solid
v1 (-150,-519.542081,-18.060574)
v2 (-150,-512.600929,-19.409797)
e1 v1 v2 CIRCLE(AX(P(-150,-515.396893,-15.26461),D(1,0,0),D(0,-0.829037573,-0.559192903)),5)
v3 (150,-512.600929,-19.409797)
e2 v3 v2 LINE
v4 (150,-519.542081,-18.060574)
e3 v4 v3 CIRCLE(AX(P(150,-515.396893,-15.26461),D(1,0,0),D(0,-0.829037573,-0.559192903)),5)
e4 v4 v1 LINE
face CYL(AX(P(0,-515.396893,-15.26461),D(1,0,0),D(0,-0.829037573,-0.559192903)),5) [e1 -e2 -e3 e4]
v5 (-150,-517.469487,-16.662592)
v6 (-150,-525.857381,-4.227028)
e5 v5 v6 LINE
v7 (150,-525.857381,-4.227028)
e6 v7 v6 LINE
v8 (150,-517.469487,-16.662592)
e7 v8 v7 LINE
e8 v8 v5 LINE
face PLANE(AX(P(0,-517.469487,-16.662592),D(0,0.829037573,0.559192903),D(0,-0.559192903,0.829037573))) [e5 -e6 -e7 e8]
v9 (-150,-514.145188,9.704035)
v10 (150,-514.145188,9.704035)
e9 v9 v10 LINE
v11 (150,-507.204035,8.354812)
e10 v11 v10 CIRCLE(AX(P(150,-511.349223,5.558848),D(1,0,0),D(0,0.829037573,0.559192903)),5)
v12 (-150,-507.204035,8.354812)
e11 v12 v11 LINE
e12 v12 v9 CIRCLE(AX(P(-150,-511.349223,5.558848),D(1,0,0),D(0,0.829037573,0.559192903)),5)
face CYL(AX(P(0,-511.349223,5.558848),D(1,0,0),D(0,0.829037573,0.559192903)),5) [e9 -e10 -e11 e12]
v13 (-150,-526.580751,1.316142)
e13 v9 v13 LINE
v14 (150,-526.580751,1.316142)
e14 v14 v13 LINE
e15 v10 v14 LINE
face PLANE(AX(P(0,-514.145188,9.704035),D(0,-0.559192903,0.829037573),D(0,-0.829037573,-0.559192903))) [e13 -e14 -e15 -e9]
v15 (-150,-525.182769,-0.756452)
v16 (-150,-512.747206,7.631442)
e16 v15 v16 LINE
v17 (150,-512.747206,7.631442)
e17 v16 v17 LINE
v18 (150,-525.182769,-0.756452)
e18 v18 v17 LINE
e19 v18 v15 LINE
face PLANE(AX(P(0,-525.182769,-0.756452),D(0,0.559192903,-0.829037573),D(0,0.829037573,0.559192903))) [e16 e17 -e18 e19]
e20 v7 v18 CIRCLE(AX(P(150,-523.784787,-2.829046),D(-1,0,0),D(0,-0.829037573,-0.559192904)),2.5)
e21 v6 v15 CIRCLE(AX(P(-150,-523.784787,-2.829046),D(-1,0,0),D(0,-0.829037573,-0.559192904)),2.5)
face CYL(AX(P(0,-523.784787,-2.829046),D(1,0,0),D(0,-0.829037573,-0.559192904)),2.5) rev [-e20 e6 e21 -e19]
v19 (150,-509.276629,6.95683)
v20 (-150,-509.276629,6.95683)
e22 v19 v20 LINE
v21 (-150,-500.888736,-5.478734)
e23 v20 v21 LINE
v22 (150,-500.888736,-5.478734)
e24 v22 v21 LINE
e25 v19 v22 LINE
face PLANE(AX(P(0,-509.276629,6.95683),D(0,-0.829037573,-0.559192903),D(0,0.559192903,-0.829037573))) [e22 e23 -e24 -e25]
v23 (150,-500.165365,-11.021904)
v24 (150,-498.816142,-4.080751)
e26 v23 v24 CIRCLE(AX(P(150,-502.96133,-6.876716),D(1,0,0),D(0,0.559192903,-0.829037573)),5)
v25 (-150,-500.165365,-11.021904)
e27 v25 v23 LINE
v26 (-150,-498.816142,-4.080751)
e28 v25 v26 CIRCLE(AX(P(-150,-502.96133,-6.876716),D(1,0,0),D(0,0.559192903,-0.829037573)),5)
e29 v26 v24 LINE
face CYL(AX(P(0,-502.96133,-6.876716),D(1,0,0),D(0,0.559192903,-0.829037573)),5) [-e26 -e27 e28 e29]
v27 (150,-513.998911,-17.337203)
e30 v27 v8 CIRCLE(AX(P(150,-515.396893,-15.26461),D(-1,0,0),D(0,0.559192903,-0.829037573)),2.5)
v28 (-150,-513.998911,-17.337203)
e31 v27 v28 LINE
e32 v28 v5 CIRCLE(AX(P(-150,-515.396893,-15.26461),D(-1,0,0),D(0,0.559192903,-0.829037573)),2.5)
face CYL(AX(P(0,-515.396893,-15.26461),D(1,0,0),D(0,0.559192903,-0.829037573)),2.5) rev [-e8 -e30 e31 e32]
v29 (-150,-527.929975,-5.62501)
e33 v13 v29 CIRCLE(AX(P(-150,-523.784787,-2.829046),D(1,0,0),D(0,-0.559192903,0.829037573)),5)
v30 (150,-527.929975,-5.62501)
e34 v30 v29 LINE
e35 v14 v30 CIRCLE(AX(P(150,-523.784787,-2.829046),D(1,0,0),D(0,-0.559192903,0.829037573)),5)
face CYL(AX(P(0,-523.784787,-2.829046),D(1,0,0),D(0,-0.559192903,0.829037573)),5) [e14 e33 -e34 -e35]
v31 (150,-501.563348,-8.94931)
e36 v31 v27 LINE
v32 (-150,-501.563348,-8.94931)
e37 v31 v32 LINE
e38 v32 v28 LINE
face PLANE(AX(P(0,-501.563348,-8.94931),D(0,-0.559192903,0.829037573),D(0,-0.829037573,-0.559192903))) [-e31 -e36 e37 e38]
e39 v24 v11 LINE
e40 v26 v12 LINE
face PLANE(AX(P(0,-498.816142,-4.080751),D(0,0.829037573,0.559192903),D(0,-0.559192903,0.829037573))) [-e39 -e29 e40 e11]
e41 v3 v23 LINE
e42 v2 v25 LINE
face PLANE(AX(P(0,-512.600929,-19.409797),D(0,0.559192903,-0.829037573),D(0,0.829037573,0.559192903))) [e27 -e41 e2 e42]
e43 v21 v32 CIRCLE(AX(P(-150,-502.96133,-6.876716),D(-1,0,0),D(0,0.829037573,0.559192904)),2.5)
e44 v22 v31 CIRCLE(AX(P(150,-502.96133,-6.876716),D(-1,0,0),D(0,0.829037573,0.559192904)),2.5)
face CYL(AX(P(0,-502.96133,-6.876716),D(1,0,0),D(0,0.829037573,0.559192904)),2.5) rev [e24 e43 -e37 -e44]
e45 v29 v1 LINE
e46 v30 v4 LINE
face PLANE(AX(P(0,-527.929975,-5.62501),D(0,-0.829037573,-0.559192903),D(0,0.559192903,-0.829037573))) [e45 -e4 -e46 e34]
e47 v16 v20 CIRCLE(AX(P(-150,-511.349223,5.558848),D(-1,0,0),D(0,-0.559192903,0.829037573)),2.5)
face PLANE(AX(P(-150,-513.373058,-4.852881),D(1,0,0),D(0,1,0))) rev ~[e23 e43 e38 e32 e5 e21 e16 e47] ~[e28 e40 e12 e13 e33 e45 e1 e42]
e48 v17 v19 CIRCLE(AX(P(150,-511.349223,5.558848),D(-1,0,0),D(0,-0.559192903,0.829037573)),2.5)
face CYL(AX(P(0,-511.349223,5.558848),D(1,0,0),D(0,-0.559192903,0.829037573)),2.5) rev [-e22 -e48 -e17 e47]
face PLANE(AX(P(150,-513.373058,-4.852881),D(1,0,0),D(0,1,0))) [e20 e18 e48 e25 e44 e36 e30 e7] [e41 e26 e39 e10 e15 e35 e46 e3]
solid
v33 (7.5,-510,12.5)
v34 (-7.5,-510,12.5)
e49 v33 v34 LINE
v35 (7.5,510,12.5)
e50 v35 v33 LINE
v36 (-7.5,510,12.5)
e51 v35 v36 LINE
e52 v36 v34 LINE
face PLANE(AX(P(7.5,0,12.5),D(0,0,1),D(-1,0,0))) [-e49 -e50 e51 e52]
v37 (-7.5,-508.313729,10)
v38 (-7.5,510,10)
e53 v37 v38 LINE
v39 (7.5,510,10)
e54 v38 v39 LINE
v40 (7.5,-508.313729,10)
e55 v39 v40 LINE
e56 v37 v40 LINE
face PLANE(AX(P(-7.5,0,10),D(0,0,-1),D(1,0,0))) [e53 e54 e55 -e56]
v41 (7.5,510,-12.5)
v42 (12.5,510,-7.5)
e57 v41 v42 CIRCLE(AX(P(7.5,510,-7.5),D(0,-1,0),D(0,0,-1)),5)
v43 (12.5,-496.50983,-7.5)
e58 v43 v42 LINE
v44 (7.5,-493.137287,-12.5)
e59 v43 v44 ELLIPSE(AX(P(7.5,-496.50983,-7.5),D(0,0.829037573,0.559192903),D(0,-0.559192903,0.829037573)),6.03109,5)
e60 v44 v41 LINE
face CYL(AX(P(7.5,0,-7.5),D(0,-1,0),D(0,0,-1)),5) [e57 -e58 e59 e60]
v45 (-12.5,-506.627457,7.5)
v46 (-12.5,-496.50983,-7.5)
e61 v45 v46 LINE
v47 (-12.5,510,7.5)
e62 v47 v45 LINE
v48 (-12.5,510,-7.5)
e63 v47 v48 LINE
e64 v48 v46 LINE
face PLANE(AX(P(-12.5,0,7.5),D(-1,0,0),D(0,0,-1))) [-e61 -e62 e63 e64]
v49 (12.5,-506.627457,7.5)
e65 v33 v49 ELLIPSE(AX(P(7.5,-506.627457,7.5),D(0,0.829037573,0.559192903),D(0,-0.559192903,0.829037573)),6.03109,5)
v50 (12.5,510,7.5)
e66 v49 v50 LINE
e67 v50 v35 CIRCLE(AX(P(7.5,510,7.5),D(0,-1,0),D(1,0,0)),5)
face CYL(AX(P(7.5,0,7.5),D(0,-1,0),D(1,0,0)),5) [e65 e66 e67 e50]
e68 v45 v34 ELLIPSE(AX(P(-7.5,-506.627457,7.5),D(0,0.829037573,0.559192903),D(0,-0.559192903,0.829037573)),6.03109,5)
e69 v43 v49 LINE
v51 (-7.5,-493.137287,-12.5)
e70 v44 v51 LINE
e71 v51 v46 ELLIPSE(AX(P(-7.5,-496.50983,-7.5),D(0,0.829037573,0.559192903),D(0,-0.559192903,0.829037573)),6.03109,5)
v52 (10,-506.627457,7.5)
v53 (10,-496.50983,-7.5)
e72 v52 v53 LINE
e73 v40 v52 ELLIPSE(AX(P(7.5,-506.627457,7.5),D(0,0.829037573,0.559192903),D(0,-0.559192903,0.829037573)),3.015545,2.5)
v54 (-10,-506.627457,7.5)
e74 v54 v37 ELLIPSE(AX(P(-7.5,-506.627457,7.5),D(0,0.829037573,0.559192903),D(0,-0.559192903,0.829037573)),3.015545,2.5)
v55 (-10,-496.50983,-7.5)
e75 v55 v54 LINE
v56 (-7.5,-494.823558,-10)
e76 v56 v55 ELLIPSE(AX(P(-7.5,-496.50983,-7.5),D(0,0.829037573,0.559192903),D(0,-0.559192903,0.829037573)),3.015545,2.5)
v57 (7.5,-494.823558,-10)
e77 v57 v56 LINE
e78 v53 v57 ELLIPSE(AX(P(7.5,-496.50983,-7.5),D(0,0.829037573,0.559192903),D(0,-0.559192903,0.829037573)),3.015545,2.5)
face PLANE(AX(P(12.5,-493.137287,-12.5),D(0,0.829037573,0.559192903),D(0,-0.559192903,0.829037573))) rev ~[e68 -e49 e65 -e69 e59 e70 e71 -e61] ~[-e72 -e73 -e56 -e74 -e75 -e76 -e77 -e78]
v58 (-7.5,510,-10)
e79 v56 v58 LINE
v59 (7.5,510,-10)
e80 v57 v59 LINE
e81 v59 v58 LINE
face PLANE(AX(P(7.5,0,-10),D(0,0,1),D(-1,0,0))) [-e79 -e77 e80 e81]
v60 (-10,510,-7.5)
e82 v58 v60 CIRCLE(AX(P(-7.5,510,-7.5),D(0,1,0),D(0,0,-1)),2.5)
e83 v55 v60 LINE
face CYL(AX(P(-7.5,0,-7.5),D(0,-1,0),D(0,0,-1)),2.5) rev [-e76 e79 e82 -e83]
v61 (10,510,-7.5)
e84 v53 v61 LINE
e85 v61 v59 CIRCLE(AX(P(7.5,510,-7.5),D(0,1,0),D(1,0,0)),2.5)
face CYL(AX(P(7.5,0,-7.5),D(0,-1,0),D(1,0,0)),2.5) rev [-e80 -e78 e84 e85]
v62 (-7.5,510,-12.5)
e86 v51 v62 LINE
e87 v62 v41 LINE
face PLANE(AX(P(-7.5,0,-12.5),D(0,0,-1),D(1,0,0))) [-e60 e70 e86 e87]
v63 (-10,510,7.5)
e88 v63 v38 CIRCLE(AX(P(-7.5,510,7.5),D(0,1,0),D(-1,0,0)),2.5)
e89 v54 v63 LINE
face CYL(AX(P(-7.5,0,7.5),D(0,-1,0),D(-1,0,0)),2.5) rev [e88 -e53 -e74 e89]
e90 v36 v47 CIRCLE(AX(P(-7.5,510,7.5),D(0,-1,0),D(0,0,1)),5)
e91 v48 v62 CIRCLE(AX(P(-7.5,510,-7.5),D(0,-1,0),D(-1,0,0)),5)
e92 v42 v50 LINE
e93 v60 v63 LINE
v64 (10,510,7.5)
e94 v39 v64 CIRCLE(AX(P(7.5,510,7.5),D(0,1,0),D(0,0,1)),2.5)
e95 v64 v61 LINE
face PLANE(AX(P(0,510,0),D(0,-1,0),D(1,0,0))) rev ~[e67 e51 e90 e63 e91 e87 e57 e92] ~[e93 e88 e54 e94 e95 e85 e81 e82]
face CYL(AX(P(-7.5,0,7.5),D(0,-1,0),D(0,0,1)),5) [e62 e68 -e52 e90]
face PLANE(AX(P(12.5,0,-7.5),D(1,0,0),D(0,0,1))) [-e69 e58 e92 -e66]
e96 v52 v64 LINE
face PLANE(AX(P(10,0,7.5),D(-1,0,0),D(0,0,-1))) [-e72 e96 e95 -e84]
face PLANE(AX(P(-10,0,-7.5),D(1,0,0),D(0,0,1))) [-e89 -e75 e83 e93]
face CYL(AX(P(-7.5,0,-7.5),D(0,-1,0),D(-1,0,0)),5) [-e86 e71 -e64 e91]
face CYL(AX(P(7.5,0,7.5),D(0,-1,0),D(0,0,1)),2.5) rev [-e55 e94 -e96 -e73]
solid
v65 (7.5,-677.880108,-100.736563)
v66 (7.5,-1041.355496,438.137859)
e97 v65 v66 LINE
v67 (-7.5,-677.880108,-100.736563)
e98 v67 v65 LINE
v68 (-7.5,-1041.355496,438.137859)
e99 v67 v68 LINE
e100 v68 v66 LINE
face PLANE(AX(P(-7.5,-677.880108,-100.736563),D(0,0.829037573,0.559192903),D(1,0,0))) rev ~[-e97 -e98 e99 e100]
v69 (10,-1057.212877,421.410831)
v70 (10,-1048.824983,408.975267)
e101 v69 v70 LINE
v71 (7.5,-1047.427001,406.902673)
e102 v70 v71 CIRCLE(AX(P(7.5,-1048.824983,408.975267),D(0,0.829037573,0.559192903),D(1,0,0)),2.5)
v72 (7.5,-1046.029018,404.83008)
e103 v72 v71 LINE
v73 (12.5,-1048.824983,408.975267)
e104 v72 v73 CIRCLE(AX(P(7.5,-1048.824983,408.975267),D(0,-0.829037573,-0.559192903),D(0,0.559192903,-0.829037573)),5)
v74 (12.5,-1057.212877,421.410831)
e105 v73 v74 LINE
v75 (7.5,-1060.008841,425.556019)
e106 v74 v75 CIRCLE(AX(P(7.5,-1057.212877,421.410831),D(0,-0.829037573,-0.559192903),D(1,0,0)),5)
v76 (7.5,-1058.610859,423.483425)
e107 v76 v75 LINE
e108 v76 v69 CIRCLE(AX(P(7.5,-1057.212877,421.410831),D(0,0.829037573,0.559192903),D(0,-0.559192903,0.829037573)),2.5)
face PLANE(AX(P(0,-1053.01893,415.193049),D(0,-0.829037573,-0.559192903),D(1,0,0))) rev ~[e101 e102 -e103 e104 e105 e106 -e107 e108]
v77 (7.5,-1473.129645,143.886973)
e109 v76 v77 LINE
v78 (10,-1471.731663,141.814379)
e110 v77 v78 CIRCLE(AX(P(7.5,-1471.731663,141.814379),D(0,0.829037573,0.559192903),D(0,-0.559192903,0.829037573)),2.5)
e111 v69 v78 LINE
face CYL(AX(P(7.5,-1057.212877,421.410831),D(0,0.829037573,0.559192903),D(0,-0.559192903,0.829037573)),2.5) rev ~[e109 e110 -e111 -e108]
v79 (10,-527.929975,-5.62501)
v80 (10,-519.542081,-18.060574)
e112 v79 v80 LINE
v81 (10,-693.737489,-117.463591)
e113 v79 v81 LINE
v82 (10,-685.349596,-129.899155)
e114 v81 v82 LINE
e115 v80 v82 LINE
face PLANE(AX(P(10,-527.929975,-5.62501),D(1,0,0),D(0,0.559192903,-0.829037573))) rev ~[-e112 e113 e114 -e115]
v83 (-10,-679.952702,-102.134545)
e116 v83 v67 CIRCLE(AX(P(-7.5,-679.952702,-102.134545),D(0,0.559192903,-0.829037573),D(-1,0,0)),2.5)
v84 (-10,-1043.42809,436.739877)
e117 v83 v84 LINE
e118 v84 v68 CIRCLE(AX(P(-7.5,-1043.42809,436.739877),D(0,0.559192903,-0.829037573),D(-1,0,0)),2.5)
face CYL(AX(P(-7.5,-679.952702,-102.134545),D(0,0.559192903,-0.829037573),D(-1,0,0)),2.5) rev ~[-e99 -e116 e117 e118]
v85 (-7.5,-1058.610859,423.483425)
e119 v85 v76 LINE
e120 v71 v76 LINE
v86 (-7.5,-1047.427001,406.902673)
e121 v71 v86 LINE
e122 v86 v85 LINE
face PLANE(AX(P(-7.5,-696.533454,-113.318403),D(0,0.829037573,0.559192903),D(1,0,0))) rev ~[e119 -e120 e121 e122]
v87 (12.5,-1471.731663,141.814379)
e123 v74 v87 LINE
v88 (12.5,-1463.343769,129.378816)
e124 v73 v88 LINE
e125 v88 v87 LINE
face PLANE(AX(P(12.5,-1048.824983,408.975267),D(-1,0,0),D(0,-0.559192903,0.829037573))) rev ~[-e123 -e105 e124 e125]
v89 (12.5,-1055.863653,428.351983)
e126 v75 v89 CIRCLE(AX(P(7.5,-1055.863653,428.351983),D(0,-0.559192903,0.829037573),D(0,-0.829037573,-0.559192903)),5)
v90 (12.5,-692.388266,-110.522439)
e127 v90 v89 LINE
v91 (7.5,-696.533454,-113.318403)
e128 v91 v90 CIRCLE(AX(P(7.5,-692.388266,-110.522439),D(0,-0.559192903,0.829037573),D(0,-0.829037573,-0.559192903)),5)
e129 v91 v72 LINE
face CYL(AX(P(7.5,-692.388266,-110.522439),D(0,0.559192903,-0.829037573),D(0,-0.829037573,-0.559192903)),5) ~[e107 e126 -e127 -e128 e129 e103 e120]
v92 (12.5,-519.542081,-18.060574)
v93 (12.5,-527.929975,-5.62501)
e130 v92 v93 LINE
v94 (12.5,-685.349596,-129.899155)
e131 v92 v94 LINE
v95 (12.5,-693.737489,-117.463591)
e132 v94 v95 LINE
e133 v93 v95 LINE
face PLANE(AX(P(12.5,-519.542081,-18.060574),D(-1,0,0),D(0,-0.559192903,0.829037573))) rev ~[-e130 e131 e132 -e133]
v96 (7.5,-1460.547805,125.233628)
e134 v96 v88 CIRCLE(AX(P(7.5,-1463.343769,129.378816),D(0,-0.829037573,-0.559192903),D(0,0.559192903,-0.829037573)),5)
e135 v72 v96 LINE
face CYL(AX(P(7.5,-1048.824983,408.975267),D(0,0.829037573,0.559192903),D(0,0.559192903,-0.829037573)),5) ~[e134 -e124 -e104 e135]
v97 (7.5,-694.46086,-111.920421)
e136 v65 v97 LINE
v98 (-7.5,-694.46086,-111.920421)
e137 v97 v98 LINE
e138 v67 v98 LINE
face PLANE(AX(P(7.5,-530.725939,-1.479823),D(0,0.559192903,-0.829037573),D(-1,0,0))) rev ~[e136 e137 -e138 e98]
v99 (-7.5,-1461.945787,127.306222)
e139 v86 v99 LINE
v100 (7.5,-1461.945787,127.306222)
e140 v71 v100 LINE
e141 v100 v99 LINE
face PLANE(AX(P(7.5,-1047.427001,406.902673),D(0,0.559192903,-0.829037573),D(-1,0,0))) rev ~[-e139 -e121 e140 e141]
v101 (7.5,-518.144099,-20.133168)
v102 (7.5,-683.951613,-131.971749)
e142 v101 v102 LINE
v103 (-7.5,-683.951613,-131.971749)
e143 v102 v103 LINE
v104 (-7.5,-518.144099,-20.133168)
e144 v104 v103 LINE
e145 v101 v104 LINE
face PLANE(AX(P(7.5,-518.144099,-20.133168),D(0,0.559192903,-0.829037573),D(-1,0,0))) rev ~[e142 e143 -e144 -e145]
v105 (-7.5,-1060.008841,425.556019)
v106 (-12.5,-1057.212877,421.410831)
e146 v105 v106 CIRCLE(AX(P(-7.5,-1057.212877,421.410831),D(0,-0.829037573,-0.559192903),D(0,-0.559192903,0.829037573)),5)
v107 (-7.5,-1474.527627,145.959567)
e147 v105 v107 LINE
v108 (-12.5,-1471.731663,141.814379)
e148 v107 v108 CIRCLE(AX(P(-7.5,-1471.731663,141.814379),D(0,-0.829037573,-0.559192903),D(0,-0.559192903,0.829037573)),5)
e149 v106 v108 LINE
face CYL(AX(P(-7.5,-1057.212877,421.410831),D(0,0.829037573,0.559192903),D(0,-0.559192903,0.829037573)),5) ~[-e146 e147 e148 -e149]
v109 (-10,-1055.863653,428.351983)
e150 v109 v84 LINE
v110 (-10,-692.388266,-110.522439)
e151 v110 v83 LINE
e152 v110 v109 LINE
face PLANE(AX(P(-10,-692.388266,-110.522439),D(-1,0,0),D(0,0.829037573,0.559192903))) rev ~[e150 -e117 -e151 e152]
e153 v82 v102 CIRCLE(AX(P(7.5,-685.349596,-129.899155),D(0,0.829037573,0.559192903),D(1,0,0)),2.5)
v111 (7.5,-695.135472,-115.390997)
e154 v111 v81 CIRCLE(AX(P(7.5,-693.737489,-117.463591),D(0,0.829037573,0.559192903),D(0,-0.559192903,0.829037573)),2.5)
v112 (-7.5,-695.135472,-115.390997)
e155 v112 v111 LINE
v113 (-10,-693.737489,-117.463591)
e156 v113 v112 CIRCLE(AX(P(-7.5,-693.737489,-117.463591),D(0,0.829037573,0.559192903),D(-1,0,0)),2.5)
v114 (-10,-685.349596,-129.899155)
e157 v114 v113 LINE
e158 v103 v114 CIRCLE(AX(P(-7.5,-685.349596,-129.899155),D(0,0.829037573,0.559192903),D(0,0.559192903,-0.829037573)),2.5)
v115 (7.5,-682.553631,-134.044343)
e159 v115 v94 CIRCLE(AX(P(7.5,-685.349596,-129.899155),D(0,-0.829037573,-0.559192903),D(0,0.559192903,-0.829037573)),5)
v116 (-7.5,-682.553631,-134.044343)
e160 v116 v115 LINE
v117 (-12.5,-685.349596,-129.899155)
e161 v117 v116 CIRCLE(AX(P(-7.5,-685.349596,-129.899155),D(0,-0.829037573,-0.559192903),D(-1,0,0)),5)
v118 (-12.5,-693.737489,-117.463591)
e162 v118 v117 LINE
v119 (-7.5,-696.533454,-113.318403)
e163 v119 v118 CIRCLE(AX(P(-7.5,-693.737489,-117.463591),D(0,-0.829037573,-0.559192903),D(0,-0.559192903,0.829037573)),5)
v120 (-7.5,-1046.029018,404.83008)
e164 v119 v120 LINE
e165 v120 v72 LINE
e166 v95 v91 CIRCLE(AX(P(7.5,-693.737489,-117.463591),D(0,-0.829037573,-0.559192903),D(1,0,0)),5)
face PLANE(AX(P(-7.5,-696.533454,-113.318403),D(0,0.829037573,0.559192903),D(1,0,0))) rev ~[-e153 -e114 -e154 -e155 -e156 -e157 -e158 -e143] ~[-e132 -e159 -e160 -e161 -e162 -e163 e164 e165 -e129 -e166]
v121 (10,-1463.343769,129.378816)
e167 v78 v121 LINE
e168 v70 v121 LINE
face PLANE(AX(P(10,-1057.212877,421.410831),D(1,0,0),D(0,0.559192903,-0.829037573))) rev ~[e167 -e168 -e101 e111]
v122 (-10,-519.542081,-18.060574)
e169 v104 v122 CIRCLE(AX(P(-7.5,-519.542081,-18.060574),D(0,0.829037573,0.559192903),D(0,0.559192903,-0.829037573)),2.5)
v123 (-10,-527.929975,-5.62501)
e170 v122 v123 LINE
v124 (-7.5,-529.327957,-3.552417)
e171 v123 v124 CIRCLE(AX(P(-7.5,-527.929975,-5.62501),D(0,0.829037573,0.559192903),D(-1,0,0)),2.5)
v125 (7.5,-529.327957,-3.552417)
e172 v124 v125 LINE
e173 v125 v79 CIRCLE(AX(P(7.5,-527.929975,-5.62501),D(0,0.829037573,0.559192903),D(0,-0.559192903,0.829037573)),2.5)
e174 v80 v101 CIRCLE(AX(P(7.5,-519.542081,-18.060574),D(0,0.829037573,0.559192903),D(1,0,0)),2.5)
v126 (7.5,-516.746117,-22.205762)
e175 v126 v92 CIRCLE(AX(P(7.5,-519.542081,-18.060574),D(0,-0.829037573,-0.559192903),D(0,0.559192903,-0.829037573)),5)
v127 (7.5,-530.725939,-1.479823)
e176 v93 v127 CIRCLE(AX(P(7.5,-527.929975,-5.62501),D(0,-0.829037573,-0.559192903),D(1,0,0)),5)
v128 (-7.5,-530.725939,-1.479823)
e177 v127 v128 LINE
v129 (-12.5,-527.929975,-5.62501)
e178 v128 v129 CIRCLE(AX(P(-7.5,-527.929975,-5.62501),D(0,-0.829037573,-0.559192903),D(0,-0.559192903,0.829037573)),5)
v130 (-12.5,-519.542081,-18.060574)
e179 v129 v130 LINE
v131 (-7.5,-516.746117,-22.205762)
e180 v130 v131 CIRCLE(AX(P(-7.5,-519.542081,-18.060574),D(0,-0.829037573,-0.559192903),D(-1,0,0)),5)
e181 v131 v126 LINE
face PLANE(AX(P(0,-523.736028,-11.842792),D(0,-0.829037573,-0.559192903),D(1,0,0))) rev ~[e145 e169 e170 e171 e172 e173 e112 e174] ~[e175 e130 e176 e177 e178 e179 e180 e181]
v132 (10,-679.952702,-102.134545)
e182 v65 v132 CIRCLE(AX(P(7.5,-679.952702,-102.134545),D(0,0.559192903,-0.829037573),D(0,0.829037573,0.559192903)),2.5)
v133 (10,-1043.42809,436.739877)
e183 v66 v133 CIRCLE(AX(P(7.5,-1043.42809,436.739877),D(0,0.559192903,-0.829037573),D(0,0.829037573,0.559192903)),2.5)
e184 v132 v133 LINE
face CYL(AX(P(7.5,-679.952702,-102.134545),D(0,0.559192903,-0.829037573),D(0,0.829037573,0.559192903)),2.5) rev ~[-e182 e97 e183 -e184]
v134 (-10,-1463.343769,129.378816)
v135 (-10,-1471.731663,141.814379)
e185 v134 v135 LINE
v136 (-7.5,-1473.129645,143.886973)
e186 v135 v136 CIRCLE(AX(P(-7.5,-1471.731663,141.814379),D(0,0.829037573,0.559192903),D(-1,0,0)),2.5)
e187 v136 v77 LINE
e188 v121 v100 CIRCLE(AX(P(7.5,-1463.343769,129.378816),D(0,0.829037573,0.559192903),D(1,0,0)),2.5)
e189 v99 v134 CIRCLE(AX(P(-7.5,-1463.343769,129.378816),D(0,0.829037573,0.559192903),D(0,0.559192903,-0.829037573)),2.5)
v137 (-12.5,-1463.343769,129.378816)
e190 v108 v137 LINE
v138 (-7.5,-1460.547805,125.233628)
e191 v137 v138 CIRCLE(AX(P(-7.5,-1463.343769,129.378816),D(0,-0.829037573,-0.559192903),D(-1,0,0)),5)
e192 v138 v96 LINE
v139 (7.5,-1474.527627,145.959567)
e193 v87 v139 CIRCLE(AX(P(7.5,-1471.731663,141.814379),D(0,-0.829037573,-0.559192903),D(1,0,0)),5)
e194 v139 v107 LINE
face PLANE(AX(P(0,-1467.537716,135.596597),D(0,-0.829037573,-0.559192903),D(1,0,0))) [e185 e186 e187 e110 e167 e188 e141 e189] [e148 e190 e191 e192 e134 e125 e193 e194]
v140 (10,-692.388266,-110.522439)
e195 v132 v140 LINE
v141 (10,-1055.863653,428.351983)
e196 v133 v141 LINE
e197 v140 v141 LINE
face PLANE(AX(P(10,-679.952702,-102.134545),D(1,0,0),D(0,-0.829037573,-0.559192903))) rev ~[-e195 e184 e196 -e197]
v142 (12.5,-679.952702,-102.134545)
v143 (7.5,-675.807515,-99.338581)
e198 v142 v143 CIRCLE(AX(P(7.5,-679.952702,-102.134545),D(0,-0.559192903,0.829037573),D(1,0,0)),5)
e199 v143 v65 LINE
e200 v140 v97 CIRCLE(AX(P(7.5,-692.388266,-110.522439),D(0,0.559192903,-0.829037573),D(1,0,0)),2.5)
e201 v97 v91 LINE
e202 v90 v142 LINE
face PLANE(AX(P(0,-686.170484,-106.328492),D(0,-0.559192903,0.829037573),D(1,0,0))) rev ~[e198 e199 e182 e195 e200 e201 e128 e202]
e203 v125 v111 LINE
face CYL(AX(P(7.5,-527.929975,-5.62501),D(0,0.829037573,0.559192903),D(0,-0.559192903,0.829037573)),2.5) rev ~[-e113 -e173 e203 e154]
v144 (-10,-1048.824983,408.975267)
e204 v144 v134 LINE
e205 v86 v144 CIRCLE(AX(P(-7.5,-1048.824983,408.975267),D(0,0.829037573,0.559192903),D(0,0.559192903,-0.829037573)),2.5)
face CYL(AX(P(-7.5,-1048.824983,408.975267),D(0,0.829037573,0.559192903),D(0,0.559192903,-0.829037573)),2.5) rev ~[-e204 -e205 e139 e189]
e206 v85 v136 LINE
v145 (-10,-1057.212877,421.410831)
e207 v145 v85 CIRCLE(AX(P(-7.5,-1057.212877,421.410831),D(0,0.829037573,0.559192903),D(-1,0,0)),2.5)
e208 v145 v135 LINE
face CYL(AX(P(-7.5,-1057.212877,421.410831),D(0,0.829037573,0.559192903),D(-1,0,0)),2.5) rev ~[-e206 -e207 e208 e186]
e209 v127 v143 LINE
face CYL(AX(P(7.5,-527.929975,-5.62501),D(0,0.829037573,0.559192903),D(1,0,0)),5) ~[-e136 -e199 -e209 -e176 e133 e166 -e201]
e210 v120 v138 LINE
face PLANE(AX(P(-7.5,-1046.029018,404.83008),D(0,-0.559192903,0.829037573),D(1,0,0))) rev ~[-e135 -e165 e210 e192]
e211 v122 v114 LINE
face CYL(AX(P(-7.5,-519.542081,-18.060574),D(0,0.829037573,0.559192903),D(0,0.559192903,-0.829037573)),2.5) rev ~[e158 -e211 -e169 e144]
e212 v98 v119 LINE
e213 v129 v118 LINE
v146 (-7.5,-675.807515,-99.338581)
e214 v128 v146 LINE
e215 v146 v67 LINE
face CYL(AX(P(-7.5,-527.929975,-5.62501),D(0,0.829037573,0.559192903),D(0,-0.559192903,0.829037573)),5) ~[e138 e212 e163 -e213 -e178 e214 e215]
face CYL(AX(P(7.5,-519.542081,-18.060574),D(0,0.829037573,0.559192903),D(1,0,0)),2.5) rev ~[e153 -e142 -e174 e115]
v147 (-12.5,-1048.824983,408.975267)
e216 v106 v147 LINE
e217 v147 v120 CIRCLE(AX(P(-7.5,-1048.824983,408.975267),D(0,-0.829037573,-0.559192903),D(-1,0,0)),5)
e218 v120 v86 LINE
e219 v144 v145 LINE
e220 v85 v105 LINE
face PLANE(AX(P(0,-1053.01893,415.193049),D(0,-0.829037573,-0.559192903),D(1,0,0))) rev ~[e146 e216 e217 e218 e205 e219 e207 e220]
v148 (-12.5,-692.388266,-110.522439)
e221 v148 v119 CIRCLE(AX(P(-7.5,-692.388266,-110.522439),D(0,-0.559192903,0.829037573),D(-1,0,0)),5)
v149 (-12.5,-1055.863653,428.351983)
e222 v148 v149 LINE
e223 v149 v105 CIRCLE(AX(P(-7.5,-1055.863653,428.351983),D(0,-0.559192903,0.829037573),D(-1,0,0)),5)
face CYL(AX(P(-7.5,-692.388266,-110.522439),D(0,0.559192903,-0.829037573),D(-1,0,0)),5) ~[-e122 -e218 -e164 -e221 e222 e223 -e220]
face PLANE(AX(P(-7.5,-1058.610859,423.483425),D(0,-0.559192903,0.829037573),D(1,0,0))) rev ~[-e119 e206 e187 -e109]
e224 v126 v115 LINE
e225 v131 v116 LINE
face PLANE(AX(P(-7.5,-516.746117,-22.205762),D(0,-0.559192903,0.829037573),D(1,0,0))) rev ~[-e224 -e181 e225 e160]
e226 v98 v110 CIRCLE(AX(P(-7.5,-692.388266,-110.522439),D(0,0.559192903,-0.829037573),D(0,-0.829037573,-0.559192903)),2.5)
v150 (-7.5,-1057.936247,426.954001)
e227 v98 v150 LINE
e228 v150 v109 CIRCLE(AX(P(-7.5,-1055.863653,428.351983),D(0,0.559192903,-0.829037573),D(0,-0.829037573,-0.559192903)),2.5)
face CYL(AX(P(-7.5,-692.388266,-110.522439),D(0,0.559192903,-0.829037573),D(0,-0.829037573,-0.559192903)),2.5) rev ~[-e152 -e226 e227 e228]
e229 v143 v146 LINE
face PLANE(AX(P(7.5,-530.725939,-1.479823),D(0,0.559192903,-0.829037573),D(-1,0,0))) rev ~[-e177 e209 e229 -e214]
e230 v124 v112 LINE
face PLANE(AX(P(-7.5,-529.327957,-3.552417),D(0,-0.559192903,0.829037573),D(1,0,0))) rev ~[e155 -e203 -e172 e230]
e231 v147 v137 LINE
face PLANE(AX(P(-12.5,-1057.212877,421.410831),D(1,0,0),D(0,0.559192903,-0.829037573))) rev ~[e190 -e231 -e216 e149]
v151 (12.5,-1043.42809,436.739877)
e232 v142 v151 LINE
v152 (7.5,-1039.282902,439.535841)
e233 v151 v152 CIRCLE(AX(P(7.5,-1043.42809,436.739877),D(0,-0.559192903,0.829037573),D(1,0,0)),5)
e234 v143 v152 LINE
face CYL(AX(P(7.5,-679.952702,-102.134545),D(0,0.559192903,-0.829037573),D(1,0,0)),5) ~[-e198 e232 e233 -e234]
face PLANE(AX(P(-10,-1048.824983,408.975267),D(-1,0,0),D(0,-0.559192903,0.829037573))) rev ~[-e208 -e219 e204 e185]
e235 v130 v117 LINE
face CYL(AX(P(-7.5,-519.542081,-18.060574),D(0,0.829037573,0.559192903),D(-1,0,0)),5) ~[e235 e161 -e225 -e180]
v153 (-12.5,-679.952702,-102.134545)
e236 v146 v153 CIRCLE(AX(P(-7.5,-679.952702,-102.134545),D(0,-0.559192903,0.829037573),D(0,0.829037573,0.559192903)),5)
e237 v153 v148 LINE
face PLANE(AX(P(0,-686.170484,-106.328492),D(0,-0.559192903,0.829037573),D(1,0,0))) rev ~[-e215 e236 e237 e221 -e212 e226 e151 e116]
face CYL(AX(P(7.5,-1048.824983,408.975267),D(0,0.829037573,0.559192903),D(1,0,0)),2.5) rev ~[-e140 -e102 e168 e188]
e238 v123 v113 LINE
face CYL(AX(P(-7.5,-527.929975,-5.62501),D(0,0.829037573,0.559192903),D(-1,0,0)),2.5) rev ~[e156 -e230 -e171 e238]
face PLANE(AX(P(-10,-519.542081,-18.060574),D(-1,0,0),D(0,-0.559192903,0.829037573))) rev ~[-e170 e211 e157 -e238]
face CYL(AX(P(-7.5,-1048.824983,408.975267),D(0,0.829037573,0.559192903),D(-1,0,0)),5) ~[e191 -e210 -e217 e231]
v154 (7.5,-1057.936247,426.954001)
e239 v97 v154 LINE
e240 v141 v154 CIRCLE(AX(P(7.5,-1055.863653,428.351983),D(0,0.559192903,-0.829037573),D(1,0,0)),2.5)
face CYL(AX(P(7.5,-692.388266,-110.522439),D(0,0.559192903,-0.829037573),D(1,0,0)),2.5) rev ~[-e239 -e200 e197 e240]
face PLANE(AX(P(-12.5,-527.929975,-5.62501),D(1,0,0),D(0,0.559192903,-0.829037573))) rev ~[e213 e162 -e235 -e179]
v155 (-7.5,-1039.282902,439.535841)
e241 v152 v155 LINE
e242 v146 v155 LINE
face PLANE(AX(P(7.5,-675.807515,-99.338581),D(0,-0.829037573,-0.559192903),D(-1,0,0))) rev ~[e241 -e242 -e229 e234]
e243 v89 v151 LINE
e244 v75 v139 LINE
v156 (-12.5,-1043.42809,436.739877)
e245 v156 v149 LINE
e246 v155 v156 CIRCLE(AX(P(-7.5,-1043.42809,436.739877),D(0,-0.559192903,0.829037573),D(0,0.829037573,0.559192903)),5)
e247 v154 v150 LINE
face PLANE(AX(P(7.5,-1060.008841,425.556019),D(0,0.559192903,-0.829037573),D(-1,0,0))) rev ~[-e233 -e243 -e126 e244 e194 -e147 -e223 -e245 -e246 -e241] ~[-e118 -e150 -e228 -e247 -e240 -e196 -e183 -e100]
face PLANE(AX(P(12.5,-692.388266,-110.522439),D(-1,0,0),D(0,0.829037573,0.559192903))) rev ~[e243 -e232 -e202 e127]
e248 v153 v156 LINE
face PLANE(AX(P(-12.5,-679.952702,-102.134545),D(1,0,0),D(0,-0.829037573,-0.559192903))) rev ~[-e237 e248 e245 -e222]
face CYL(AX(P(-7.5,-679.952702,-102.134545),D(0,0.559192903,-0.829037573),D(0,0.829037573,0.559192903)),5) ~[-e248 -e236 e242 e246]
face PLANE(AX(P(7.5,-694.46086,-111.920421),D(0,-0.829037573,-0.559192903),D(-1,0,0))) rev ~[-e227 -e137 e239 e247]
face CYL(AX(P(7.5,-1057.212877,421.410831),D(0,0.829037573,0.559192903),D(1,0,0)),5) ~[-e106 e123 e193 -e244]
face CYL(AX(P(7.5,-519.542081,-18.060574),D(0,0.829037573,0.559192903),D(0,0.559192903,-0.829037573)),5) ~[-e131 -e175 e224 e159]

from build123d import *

# Parameters (mm, degrees)
F1_DEPTH  = 510
F3_DEPTH  = 25.001
F5_DEPTH  = 150
F7_DEPTH  = 200
F9_DEPTH  = 650
F11_DEPTH = 500


with BuildPart() as f1:
    # F0 (on Front) → F1 (new body, symmetric)
    with BuildSketch(Plane.XZ):
        with BuildLine():
            ThreePointArc((12.5, 7.5), (11.0355339059, 11.0355339059), (7.5, 12.5))
            Line((7.5, 12.5), (-7.5, 12.5))
            ThreePointArc((-7.5, 12.5), (-11.0355339059, 11.0355339059), (-12.5, 7.5))
            Line((-12.5, 7.5), (-12.5, -7.5))
            ThreePointArc((-12.5, -7.5), (-11.0355339059, -11.0355339059), (-7.5, -12.5))
            Line((-7.5, -12.5), (7.5, -12.5))
            ThreePointArc((7.5, -12.5), (11.0355339059, -11.0355339059), (12.5, -7.5))
            Line((12.5, -7.5), (12.5, 7.5))
        make_face()
        with BuildLine():
            ThreePointArc((7.5, 10), (9.267766953, 9.267766953), (10, 7.5))
            Line((10, 7.5), (10, -7.5))
            ThreePointArc((10, -7.5), (9.267766953, -9.267766953), (7.5, -10))
            Line((7.5, -10), (-7.5, -10))
            ThreePointArc((-7.5, -10), (-9.267766953, -9.267766953), (-10, -7.5))
            Line((-10, -7.5), (-10, 7.5))
            ThreePointArc((-10, 7.5), (-9.267766953, 9.267766953), (-7.5, 10))
            Line((-7.5, 10), (7.5, 10))
        make_face(mode=Mode.SUBTRACT)
    extrude(amount=F1_DEPTH, both=True)

    # F2 (on face) → F3 (cut, through all)
    with BuildSketch(Plane.YZ.offset(12.5)):
        Polygon((-493.1372870789, -12.5), (-510, 12.5), (-510, -12.5), align=None)
    extrude(amount=-F3_DEPTH, mode=Mode.SUBTRACT)


with BuildPart() as f5:
    # F4 (on Right) → F5 (new body, symmetric)
    with BuildSketch(Plane.YZ):
        with BuildLine():
            Line((-512.6009288643, -19.4097973833), (-500.165365276, -11.0219038312))
            ThreePointArc((-500.165365276, -11.0219038312), (-498.0531938761, -7.8307609453), (-498.8161419306, -4.0807514511))
            Line((-498.8161419306, -4.0807514511), (-507.2040354826, 8.3548121372))
            ThreePointArc((-507.2040354826, 8.3548121372), (-510.3951783685, 10.4669835371), (-514.1451878628, 9.7040354826))
            Line((-514.1451878628, 9.7040354826), (-526.5807514511, 1.3161419306))
            ThreePointArc((-526.5807514511, 1.3161419306), (-528.692922851, -1.8750009553), (-527.9299747965, -5.6250104495))
            Line((-527.9299747965, -5.6250104495), (-519.5420812445, -18.0605740379))
            ThreePointArc((-519.5420812445, -18.0605740379), (-516.3509383586, -20.1727454378), (-512.6009288643, -19.4097973833))
        make_face()
        with BuildLine():
            ThreePointArc((-512.7472056041, 7.6314415513), (-510.872200857, 8.0129155785), (-509.276629414, 6.9568298785))
            Line((-509.276629414, 6.9568298785), (-500.888735862, -5.4787337098))
            ThreePointArc((-500.888735862, -5.4787337098), (-500.5072618347, -7.3537384569), (-501.5633475347, -8.9493098998))
            Line((-501.5633475347, -8.9493098998), (-513.998911123, -17.3372034519))
            ThreePointArc((-513.998911123, -17.3372034519), (-515.8739158701, -17.7186774791), (-517.4694873131, -16.6625917792))
            Line((-517.4694873131, -16.6625917792), (-525.8573808651, -4.2270281909))
            ThreePointArc((-525.8573808651, -4.2270281909), (-526.2388548924, -2.3520234437), (-525.1827691924, -0.7564520008))
            Line((-525.1827691924, -0.7564520008), (-512.7472056041, 7.6314415513))
        make_face(mode=Mode.SUBTRACT)
    extrude(amount=F5_DEPTH, both=True)


with BuildPart() as f7:
    # F6 (on face) → F7 (new body)
    with BuildSketch(Plane(origin=(0, -365.4557215439, -246.5029967101), x_dir=(1, 0, 0), z_dir=(0, -0.8290375726, -0.5591929035))):
        with BuildLine():
            ThreePointArc((12.5, 290.551350427), (11.0355339059, 294.086884333), (7.5, 295.551350427))
            Line((7.5, 295.551350427), (-7.5, 295.551350427))
            ThreePointArc((-7.5, 295.551350427), (-11.0355339059, 294.086884333), (-12.5, 290.551350427))
            Line((-12.5, 290.551350427), (-12.5, 275.551350427))
            ThreePointArc((-12.5, 275.551350427), (-11.0355339059, 272.0158165211), (-7.5, 270.551350427))
            Line((-7.5, 270.551350427), (7.5, 270.551350427))
            ThreePointArc((7.5, 270.551350427), (11.0355339059, 272.0158165211), (12.5, 275.551350427))
            Line((12.5, 275.551350427), (12.5, 290.551350427))
        make_face()
        with BuildLine():
            Line((-7.5, 293.051350427), (7.5, 293.051350427))
            ThreePointArc((7.5, 293.051350427), (9.267766953, 292.31911738), (10, 290.551350427))
            Line((10, 290.551350427), (10, 275.551350427))
            ThreePointArc((10, 275.551350427), (9.267766953, 273.7835834741), (7.5, 273.051350427))
            Line((7.5, 273.051350427), (-7.5, 273.051350427))
            ThreePointArc((-7.5, 273.051350427), (-9.267766953, 273.7835834741), (-10, 275.551350427))
            Line((-10, 275.551350427), (-10, 290.551350427))
            ThreePointArc((-10, 290.551350427), (-9.267766953, 292.31911738), (-7.5, 293.051350427))
        make_face(mode=Mode.SUBTRACT)
    extrude(amount=F7_DEPTH)

    # F8 (on face) → F9 (join)
    with BuildSketch(Plane(origin=(0, -165.27021777, 245.0231741234), x_dir=(1, 0, 0), z_dir=(0, -0.5591929035, 0.8290375726))):
        with BuildLine():
            Line((-7.5, -640.8192507097), (7.5, -640.8192507097))
            ThreePointArc((7.5, -640.8192507097), (11.0355339059, -639.3547846156), (12.5, -635.8192507097))
            Line((12.5, -635.8192507097), (12.5, -620.8192507097))
            ThreePointArc((12.5, -620.8192507097), (11.0355339059, -617.2837168038), (7.5, -615.8192507097))
            Line((7.5, -615.8192507097), (-7.5, -615.8192507097))
            ThreePointArc((-7.5, -615.8192507097), (-11.0355339059, -617.2837168038), (-12.5, -620.8192507097))
            Line((-12.5, -620.8192507097), (-12.5, -635.8192507097))
            ThreePointArc((-12.5, -635.8192507097), (-11.0355339059, -639.3547846156), (-7.5, -640.8192507097))
        make_face()
        with BuildLine():
            ThreePointArc((7.5, -618.3192507097), (9.267766953, -619.0514837567), (10, -620.8192507097))
            Line((10, -620.8192507097), (10, -635.8192507097))
            ThreePointArc((10, -635.8192507097), (9.267766953, -637.5870176627), (7.5, -638.3192507097))
            Line((7.5, -638.3192507097), (-7.5, -638.3192507097))
            ThreePointArc((-7.5, -638.3192507097), (-9.267766953, -637.5870176627), (-10, -635.8192507097))
            Line((-10, -635.8192507097), (-10, -620.8192507097))
            ThreePointArc((-10, -620.8192507097), (-9.267766953, -619.0514837567), (-7.5, -618.3192507097))
            Line((-7.5, -618.3192507097), (7.5, -618.3192507097))
        make_face(mode=Mode.SUBTRACT)
    extrude(amount=F9_DEPTH)

    # F10 (on face) → F11 (join)
    with BuildSketch(Plane(origin=(0, -531.2632360549, -358.3415774043), x_dir=(1, 0, 0), z_dir=(0, -0.8290375726, -0.5591929035))):
        with BuildLine():
            ThreePointArc((12.5, 940.551350427), (11.0355339059, 944.086884333), (7.5, 945.551350427))
            Line((7.5, 945.551350427), (-7.5, 945.551350427))
            ThreePointArc((-7.5, 945.551350427), (-11.0355339059, 944.086884333), (-12.5, 940.551350427))
            Line((-12.5, 940.551350427), (-12.5, 925.551350427))
            ThreePointArc((-12.5, 925.551350427), (-11.0355339059, 922.0158165211), (-7.5, 920.551350427))
            Line((-7.5, 920.551350427), (7.5, 920.551350427))
            ThreePointArc((7.5, 920.551350427), (11.0355339059, 922.0158165211), (12.5, 925.551350427))
            Line((12.5, 925.551350427), (12.5, 940.551350427))
        make_face()
        with BuildLine():
            ThreePointArc((7.5, 943.051350427), (9.267766953, 942.31911738), (10, 940.551350427))
            Line((10, 940.551350427), (10, 925.551350427))
            ThreePointArc((10, 925.551350427), (9.267766953, 923.7835834741), (7.5, 923.051350427))
            Line((7.5, 923.051350427), (-7.5, 923.051350427))
            ThreePointArc((-7.5, 923.051350427), (-9.267766953, 923.7835834741), (-10, 925.551350427))
            Line((-10, 925.551350427), (-10, 940.551350427))
            ThreePointArc((-10, 940.551350427), (-9.267766953, 942.31911738), (-7.5, 943.051350427))
            Line((-7.5, 943.051350427), (7.5, 943.051350427))
        make_face(mode=Mode.SUBTRACT)
    extrude(amount=F11_DEPTH)


solid = Compound([f1.part, f5.part, f7.part])
